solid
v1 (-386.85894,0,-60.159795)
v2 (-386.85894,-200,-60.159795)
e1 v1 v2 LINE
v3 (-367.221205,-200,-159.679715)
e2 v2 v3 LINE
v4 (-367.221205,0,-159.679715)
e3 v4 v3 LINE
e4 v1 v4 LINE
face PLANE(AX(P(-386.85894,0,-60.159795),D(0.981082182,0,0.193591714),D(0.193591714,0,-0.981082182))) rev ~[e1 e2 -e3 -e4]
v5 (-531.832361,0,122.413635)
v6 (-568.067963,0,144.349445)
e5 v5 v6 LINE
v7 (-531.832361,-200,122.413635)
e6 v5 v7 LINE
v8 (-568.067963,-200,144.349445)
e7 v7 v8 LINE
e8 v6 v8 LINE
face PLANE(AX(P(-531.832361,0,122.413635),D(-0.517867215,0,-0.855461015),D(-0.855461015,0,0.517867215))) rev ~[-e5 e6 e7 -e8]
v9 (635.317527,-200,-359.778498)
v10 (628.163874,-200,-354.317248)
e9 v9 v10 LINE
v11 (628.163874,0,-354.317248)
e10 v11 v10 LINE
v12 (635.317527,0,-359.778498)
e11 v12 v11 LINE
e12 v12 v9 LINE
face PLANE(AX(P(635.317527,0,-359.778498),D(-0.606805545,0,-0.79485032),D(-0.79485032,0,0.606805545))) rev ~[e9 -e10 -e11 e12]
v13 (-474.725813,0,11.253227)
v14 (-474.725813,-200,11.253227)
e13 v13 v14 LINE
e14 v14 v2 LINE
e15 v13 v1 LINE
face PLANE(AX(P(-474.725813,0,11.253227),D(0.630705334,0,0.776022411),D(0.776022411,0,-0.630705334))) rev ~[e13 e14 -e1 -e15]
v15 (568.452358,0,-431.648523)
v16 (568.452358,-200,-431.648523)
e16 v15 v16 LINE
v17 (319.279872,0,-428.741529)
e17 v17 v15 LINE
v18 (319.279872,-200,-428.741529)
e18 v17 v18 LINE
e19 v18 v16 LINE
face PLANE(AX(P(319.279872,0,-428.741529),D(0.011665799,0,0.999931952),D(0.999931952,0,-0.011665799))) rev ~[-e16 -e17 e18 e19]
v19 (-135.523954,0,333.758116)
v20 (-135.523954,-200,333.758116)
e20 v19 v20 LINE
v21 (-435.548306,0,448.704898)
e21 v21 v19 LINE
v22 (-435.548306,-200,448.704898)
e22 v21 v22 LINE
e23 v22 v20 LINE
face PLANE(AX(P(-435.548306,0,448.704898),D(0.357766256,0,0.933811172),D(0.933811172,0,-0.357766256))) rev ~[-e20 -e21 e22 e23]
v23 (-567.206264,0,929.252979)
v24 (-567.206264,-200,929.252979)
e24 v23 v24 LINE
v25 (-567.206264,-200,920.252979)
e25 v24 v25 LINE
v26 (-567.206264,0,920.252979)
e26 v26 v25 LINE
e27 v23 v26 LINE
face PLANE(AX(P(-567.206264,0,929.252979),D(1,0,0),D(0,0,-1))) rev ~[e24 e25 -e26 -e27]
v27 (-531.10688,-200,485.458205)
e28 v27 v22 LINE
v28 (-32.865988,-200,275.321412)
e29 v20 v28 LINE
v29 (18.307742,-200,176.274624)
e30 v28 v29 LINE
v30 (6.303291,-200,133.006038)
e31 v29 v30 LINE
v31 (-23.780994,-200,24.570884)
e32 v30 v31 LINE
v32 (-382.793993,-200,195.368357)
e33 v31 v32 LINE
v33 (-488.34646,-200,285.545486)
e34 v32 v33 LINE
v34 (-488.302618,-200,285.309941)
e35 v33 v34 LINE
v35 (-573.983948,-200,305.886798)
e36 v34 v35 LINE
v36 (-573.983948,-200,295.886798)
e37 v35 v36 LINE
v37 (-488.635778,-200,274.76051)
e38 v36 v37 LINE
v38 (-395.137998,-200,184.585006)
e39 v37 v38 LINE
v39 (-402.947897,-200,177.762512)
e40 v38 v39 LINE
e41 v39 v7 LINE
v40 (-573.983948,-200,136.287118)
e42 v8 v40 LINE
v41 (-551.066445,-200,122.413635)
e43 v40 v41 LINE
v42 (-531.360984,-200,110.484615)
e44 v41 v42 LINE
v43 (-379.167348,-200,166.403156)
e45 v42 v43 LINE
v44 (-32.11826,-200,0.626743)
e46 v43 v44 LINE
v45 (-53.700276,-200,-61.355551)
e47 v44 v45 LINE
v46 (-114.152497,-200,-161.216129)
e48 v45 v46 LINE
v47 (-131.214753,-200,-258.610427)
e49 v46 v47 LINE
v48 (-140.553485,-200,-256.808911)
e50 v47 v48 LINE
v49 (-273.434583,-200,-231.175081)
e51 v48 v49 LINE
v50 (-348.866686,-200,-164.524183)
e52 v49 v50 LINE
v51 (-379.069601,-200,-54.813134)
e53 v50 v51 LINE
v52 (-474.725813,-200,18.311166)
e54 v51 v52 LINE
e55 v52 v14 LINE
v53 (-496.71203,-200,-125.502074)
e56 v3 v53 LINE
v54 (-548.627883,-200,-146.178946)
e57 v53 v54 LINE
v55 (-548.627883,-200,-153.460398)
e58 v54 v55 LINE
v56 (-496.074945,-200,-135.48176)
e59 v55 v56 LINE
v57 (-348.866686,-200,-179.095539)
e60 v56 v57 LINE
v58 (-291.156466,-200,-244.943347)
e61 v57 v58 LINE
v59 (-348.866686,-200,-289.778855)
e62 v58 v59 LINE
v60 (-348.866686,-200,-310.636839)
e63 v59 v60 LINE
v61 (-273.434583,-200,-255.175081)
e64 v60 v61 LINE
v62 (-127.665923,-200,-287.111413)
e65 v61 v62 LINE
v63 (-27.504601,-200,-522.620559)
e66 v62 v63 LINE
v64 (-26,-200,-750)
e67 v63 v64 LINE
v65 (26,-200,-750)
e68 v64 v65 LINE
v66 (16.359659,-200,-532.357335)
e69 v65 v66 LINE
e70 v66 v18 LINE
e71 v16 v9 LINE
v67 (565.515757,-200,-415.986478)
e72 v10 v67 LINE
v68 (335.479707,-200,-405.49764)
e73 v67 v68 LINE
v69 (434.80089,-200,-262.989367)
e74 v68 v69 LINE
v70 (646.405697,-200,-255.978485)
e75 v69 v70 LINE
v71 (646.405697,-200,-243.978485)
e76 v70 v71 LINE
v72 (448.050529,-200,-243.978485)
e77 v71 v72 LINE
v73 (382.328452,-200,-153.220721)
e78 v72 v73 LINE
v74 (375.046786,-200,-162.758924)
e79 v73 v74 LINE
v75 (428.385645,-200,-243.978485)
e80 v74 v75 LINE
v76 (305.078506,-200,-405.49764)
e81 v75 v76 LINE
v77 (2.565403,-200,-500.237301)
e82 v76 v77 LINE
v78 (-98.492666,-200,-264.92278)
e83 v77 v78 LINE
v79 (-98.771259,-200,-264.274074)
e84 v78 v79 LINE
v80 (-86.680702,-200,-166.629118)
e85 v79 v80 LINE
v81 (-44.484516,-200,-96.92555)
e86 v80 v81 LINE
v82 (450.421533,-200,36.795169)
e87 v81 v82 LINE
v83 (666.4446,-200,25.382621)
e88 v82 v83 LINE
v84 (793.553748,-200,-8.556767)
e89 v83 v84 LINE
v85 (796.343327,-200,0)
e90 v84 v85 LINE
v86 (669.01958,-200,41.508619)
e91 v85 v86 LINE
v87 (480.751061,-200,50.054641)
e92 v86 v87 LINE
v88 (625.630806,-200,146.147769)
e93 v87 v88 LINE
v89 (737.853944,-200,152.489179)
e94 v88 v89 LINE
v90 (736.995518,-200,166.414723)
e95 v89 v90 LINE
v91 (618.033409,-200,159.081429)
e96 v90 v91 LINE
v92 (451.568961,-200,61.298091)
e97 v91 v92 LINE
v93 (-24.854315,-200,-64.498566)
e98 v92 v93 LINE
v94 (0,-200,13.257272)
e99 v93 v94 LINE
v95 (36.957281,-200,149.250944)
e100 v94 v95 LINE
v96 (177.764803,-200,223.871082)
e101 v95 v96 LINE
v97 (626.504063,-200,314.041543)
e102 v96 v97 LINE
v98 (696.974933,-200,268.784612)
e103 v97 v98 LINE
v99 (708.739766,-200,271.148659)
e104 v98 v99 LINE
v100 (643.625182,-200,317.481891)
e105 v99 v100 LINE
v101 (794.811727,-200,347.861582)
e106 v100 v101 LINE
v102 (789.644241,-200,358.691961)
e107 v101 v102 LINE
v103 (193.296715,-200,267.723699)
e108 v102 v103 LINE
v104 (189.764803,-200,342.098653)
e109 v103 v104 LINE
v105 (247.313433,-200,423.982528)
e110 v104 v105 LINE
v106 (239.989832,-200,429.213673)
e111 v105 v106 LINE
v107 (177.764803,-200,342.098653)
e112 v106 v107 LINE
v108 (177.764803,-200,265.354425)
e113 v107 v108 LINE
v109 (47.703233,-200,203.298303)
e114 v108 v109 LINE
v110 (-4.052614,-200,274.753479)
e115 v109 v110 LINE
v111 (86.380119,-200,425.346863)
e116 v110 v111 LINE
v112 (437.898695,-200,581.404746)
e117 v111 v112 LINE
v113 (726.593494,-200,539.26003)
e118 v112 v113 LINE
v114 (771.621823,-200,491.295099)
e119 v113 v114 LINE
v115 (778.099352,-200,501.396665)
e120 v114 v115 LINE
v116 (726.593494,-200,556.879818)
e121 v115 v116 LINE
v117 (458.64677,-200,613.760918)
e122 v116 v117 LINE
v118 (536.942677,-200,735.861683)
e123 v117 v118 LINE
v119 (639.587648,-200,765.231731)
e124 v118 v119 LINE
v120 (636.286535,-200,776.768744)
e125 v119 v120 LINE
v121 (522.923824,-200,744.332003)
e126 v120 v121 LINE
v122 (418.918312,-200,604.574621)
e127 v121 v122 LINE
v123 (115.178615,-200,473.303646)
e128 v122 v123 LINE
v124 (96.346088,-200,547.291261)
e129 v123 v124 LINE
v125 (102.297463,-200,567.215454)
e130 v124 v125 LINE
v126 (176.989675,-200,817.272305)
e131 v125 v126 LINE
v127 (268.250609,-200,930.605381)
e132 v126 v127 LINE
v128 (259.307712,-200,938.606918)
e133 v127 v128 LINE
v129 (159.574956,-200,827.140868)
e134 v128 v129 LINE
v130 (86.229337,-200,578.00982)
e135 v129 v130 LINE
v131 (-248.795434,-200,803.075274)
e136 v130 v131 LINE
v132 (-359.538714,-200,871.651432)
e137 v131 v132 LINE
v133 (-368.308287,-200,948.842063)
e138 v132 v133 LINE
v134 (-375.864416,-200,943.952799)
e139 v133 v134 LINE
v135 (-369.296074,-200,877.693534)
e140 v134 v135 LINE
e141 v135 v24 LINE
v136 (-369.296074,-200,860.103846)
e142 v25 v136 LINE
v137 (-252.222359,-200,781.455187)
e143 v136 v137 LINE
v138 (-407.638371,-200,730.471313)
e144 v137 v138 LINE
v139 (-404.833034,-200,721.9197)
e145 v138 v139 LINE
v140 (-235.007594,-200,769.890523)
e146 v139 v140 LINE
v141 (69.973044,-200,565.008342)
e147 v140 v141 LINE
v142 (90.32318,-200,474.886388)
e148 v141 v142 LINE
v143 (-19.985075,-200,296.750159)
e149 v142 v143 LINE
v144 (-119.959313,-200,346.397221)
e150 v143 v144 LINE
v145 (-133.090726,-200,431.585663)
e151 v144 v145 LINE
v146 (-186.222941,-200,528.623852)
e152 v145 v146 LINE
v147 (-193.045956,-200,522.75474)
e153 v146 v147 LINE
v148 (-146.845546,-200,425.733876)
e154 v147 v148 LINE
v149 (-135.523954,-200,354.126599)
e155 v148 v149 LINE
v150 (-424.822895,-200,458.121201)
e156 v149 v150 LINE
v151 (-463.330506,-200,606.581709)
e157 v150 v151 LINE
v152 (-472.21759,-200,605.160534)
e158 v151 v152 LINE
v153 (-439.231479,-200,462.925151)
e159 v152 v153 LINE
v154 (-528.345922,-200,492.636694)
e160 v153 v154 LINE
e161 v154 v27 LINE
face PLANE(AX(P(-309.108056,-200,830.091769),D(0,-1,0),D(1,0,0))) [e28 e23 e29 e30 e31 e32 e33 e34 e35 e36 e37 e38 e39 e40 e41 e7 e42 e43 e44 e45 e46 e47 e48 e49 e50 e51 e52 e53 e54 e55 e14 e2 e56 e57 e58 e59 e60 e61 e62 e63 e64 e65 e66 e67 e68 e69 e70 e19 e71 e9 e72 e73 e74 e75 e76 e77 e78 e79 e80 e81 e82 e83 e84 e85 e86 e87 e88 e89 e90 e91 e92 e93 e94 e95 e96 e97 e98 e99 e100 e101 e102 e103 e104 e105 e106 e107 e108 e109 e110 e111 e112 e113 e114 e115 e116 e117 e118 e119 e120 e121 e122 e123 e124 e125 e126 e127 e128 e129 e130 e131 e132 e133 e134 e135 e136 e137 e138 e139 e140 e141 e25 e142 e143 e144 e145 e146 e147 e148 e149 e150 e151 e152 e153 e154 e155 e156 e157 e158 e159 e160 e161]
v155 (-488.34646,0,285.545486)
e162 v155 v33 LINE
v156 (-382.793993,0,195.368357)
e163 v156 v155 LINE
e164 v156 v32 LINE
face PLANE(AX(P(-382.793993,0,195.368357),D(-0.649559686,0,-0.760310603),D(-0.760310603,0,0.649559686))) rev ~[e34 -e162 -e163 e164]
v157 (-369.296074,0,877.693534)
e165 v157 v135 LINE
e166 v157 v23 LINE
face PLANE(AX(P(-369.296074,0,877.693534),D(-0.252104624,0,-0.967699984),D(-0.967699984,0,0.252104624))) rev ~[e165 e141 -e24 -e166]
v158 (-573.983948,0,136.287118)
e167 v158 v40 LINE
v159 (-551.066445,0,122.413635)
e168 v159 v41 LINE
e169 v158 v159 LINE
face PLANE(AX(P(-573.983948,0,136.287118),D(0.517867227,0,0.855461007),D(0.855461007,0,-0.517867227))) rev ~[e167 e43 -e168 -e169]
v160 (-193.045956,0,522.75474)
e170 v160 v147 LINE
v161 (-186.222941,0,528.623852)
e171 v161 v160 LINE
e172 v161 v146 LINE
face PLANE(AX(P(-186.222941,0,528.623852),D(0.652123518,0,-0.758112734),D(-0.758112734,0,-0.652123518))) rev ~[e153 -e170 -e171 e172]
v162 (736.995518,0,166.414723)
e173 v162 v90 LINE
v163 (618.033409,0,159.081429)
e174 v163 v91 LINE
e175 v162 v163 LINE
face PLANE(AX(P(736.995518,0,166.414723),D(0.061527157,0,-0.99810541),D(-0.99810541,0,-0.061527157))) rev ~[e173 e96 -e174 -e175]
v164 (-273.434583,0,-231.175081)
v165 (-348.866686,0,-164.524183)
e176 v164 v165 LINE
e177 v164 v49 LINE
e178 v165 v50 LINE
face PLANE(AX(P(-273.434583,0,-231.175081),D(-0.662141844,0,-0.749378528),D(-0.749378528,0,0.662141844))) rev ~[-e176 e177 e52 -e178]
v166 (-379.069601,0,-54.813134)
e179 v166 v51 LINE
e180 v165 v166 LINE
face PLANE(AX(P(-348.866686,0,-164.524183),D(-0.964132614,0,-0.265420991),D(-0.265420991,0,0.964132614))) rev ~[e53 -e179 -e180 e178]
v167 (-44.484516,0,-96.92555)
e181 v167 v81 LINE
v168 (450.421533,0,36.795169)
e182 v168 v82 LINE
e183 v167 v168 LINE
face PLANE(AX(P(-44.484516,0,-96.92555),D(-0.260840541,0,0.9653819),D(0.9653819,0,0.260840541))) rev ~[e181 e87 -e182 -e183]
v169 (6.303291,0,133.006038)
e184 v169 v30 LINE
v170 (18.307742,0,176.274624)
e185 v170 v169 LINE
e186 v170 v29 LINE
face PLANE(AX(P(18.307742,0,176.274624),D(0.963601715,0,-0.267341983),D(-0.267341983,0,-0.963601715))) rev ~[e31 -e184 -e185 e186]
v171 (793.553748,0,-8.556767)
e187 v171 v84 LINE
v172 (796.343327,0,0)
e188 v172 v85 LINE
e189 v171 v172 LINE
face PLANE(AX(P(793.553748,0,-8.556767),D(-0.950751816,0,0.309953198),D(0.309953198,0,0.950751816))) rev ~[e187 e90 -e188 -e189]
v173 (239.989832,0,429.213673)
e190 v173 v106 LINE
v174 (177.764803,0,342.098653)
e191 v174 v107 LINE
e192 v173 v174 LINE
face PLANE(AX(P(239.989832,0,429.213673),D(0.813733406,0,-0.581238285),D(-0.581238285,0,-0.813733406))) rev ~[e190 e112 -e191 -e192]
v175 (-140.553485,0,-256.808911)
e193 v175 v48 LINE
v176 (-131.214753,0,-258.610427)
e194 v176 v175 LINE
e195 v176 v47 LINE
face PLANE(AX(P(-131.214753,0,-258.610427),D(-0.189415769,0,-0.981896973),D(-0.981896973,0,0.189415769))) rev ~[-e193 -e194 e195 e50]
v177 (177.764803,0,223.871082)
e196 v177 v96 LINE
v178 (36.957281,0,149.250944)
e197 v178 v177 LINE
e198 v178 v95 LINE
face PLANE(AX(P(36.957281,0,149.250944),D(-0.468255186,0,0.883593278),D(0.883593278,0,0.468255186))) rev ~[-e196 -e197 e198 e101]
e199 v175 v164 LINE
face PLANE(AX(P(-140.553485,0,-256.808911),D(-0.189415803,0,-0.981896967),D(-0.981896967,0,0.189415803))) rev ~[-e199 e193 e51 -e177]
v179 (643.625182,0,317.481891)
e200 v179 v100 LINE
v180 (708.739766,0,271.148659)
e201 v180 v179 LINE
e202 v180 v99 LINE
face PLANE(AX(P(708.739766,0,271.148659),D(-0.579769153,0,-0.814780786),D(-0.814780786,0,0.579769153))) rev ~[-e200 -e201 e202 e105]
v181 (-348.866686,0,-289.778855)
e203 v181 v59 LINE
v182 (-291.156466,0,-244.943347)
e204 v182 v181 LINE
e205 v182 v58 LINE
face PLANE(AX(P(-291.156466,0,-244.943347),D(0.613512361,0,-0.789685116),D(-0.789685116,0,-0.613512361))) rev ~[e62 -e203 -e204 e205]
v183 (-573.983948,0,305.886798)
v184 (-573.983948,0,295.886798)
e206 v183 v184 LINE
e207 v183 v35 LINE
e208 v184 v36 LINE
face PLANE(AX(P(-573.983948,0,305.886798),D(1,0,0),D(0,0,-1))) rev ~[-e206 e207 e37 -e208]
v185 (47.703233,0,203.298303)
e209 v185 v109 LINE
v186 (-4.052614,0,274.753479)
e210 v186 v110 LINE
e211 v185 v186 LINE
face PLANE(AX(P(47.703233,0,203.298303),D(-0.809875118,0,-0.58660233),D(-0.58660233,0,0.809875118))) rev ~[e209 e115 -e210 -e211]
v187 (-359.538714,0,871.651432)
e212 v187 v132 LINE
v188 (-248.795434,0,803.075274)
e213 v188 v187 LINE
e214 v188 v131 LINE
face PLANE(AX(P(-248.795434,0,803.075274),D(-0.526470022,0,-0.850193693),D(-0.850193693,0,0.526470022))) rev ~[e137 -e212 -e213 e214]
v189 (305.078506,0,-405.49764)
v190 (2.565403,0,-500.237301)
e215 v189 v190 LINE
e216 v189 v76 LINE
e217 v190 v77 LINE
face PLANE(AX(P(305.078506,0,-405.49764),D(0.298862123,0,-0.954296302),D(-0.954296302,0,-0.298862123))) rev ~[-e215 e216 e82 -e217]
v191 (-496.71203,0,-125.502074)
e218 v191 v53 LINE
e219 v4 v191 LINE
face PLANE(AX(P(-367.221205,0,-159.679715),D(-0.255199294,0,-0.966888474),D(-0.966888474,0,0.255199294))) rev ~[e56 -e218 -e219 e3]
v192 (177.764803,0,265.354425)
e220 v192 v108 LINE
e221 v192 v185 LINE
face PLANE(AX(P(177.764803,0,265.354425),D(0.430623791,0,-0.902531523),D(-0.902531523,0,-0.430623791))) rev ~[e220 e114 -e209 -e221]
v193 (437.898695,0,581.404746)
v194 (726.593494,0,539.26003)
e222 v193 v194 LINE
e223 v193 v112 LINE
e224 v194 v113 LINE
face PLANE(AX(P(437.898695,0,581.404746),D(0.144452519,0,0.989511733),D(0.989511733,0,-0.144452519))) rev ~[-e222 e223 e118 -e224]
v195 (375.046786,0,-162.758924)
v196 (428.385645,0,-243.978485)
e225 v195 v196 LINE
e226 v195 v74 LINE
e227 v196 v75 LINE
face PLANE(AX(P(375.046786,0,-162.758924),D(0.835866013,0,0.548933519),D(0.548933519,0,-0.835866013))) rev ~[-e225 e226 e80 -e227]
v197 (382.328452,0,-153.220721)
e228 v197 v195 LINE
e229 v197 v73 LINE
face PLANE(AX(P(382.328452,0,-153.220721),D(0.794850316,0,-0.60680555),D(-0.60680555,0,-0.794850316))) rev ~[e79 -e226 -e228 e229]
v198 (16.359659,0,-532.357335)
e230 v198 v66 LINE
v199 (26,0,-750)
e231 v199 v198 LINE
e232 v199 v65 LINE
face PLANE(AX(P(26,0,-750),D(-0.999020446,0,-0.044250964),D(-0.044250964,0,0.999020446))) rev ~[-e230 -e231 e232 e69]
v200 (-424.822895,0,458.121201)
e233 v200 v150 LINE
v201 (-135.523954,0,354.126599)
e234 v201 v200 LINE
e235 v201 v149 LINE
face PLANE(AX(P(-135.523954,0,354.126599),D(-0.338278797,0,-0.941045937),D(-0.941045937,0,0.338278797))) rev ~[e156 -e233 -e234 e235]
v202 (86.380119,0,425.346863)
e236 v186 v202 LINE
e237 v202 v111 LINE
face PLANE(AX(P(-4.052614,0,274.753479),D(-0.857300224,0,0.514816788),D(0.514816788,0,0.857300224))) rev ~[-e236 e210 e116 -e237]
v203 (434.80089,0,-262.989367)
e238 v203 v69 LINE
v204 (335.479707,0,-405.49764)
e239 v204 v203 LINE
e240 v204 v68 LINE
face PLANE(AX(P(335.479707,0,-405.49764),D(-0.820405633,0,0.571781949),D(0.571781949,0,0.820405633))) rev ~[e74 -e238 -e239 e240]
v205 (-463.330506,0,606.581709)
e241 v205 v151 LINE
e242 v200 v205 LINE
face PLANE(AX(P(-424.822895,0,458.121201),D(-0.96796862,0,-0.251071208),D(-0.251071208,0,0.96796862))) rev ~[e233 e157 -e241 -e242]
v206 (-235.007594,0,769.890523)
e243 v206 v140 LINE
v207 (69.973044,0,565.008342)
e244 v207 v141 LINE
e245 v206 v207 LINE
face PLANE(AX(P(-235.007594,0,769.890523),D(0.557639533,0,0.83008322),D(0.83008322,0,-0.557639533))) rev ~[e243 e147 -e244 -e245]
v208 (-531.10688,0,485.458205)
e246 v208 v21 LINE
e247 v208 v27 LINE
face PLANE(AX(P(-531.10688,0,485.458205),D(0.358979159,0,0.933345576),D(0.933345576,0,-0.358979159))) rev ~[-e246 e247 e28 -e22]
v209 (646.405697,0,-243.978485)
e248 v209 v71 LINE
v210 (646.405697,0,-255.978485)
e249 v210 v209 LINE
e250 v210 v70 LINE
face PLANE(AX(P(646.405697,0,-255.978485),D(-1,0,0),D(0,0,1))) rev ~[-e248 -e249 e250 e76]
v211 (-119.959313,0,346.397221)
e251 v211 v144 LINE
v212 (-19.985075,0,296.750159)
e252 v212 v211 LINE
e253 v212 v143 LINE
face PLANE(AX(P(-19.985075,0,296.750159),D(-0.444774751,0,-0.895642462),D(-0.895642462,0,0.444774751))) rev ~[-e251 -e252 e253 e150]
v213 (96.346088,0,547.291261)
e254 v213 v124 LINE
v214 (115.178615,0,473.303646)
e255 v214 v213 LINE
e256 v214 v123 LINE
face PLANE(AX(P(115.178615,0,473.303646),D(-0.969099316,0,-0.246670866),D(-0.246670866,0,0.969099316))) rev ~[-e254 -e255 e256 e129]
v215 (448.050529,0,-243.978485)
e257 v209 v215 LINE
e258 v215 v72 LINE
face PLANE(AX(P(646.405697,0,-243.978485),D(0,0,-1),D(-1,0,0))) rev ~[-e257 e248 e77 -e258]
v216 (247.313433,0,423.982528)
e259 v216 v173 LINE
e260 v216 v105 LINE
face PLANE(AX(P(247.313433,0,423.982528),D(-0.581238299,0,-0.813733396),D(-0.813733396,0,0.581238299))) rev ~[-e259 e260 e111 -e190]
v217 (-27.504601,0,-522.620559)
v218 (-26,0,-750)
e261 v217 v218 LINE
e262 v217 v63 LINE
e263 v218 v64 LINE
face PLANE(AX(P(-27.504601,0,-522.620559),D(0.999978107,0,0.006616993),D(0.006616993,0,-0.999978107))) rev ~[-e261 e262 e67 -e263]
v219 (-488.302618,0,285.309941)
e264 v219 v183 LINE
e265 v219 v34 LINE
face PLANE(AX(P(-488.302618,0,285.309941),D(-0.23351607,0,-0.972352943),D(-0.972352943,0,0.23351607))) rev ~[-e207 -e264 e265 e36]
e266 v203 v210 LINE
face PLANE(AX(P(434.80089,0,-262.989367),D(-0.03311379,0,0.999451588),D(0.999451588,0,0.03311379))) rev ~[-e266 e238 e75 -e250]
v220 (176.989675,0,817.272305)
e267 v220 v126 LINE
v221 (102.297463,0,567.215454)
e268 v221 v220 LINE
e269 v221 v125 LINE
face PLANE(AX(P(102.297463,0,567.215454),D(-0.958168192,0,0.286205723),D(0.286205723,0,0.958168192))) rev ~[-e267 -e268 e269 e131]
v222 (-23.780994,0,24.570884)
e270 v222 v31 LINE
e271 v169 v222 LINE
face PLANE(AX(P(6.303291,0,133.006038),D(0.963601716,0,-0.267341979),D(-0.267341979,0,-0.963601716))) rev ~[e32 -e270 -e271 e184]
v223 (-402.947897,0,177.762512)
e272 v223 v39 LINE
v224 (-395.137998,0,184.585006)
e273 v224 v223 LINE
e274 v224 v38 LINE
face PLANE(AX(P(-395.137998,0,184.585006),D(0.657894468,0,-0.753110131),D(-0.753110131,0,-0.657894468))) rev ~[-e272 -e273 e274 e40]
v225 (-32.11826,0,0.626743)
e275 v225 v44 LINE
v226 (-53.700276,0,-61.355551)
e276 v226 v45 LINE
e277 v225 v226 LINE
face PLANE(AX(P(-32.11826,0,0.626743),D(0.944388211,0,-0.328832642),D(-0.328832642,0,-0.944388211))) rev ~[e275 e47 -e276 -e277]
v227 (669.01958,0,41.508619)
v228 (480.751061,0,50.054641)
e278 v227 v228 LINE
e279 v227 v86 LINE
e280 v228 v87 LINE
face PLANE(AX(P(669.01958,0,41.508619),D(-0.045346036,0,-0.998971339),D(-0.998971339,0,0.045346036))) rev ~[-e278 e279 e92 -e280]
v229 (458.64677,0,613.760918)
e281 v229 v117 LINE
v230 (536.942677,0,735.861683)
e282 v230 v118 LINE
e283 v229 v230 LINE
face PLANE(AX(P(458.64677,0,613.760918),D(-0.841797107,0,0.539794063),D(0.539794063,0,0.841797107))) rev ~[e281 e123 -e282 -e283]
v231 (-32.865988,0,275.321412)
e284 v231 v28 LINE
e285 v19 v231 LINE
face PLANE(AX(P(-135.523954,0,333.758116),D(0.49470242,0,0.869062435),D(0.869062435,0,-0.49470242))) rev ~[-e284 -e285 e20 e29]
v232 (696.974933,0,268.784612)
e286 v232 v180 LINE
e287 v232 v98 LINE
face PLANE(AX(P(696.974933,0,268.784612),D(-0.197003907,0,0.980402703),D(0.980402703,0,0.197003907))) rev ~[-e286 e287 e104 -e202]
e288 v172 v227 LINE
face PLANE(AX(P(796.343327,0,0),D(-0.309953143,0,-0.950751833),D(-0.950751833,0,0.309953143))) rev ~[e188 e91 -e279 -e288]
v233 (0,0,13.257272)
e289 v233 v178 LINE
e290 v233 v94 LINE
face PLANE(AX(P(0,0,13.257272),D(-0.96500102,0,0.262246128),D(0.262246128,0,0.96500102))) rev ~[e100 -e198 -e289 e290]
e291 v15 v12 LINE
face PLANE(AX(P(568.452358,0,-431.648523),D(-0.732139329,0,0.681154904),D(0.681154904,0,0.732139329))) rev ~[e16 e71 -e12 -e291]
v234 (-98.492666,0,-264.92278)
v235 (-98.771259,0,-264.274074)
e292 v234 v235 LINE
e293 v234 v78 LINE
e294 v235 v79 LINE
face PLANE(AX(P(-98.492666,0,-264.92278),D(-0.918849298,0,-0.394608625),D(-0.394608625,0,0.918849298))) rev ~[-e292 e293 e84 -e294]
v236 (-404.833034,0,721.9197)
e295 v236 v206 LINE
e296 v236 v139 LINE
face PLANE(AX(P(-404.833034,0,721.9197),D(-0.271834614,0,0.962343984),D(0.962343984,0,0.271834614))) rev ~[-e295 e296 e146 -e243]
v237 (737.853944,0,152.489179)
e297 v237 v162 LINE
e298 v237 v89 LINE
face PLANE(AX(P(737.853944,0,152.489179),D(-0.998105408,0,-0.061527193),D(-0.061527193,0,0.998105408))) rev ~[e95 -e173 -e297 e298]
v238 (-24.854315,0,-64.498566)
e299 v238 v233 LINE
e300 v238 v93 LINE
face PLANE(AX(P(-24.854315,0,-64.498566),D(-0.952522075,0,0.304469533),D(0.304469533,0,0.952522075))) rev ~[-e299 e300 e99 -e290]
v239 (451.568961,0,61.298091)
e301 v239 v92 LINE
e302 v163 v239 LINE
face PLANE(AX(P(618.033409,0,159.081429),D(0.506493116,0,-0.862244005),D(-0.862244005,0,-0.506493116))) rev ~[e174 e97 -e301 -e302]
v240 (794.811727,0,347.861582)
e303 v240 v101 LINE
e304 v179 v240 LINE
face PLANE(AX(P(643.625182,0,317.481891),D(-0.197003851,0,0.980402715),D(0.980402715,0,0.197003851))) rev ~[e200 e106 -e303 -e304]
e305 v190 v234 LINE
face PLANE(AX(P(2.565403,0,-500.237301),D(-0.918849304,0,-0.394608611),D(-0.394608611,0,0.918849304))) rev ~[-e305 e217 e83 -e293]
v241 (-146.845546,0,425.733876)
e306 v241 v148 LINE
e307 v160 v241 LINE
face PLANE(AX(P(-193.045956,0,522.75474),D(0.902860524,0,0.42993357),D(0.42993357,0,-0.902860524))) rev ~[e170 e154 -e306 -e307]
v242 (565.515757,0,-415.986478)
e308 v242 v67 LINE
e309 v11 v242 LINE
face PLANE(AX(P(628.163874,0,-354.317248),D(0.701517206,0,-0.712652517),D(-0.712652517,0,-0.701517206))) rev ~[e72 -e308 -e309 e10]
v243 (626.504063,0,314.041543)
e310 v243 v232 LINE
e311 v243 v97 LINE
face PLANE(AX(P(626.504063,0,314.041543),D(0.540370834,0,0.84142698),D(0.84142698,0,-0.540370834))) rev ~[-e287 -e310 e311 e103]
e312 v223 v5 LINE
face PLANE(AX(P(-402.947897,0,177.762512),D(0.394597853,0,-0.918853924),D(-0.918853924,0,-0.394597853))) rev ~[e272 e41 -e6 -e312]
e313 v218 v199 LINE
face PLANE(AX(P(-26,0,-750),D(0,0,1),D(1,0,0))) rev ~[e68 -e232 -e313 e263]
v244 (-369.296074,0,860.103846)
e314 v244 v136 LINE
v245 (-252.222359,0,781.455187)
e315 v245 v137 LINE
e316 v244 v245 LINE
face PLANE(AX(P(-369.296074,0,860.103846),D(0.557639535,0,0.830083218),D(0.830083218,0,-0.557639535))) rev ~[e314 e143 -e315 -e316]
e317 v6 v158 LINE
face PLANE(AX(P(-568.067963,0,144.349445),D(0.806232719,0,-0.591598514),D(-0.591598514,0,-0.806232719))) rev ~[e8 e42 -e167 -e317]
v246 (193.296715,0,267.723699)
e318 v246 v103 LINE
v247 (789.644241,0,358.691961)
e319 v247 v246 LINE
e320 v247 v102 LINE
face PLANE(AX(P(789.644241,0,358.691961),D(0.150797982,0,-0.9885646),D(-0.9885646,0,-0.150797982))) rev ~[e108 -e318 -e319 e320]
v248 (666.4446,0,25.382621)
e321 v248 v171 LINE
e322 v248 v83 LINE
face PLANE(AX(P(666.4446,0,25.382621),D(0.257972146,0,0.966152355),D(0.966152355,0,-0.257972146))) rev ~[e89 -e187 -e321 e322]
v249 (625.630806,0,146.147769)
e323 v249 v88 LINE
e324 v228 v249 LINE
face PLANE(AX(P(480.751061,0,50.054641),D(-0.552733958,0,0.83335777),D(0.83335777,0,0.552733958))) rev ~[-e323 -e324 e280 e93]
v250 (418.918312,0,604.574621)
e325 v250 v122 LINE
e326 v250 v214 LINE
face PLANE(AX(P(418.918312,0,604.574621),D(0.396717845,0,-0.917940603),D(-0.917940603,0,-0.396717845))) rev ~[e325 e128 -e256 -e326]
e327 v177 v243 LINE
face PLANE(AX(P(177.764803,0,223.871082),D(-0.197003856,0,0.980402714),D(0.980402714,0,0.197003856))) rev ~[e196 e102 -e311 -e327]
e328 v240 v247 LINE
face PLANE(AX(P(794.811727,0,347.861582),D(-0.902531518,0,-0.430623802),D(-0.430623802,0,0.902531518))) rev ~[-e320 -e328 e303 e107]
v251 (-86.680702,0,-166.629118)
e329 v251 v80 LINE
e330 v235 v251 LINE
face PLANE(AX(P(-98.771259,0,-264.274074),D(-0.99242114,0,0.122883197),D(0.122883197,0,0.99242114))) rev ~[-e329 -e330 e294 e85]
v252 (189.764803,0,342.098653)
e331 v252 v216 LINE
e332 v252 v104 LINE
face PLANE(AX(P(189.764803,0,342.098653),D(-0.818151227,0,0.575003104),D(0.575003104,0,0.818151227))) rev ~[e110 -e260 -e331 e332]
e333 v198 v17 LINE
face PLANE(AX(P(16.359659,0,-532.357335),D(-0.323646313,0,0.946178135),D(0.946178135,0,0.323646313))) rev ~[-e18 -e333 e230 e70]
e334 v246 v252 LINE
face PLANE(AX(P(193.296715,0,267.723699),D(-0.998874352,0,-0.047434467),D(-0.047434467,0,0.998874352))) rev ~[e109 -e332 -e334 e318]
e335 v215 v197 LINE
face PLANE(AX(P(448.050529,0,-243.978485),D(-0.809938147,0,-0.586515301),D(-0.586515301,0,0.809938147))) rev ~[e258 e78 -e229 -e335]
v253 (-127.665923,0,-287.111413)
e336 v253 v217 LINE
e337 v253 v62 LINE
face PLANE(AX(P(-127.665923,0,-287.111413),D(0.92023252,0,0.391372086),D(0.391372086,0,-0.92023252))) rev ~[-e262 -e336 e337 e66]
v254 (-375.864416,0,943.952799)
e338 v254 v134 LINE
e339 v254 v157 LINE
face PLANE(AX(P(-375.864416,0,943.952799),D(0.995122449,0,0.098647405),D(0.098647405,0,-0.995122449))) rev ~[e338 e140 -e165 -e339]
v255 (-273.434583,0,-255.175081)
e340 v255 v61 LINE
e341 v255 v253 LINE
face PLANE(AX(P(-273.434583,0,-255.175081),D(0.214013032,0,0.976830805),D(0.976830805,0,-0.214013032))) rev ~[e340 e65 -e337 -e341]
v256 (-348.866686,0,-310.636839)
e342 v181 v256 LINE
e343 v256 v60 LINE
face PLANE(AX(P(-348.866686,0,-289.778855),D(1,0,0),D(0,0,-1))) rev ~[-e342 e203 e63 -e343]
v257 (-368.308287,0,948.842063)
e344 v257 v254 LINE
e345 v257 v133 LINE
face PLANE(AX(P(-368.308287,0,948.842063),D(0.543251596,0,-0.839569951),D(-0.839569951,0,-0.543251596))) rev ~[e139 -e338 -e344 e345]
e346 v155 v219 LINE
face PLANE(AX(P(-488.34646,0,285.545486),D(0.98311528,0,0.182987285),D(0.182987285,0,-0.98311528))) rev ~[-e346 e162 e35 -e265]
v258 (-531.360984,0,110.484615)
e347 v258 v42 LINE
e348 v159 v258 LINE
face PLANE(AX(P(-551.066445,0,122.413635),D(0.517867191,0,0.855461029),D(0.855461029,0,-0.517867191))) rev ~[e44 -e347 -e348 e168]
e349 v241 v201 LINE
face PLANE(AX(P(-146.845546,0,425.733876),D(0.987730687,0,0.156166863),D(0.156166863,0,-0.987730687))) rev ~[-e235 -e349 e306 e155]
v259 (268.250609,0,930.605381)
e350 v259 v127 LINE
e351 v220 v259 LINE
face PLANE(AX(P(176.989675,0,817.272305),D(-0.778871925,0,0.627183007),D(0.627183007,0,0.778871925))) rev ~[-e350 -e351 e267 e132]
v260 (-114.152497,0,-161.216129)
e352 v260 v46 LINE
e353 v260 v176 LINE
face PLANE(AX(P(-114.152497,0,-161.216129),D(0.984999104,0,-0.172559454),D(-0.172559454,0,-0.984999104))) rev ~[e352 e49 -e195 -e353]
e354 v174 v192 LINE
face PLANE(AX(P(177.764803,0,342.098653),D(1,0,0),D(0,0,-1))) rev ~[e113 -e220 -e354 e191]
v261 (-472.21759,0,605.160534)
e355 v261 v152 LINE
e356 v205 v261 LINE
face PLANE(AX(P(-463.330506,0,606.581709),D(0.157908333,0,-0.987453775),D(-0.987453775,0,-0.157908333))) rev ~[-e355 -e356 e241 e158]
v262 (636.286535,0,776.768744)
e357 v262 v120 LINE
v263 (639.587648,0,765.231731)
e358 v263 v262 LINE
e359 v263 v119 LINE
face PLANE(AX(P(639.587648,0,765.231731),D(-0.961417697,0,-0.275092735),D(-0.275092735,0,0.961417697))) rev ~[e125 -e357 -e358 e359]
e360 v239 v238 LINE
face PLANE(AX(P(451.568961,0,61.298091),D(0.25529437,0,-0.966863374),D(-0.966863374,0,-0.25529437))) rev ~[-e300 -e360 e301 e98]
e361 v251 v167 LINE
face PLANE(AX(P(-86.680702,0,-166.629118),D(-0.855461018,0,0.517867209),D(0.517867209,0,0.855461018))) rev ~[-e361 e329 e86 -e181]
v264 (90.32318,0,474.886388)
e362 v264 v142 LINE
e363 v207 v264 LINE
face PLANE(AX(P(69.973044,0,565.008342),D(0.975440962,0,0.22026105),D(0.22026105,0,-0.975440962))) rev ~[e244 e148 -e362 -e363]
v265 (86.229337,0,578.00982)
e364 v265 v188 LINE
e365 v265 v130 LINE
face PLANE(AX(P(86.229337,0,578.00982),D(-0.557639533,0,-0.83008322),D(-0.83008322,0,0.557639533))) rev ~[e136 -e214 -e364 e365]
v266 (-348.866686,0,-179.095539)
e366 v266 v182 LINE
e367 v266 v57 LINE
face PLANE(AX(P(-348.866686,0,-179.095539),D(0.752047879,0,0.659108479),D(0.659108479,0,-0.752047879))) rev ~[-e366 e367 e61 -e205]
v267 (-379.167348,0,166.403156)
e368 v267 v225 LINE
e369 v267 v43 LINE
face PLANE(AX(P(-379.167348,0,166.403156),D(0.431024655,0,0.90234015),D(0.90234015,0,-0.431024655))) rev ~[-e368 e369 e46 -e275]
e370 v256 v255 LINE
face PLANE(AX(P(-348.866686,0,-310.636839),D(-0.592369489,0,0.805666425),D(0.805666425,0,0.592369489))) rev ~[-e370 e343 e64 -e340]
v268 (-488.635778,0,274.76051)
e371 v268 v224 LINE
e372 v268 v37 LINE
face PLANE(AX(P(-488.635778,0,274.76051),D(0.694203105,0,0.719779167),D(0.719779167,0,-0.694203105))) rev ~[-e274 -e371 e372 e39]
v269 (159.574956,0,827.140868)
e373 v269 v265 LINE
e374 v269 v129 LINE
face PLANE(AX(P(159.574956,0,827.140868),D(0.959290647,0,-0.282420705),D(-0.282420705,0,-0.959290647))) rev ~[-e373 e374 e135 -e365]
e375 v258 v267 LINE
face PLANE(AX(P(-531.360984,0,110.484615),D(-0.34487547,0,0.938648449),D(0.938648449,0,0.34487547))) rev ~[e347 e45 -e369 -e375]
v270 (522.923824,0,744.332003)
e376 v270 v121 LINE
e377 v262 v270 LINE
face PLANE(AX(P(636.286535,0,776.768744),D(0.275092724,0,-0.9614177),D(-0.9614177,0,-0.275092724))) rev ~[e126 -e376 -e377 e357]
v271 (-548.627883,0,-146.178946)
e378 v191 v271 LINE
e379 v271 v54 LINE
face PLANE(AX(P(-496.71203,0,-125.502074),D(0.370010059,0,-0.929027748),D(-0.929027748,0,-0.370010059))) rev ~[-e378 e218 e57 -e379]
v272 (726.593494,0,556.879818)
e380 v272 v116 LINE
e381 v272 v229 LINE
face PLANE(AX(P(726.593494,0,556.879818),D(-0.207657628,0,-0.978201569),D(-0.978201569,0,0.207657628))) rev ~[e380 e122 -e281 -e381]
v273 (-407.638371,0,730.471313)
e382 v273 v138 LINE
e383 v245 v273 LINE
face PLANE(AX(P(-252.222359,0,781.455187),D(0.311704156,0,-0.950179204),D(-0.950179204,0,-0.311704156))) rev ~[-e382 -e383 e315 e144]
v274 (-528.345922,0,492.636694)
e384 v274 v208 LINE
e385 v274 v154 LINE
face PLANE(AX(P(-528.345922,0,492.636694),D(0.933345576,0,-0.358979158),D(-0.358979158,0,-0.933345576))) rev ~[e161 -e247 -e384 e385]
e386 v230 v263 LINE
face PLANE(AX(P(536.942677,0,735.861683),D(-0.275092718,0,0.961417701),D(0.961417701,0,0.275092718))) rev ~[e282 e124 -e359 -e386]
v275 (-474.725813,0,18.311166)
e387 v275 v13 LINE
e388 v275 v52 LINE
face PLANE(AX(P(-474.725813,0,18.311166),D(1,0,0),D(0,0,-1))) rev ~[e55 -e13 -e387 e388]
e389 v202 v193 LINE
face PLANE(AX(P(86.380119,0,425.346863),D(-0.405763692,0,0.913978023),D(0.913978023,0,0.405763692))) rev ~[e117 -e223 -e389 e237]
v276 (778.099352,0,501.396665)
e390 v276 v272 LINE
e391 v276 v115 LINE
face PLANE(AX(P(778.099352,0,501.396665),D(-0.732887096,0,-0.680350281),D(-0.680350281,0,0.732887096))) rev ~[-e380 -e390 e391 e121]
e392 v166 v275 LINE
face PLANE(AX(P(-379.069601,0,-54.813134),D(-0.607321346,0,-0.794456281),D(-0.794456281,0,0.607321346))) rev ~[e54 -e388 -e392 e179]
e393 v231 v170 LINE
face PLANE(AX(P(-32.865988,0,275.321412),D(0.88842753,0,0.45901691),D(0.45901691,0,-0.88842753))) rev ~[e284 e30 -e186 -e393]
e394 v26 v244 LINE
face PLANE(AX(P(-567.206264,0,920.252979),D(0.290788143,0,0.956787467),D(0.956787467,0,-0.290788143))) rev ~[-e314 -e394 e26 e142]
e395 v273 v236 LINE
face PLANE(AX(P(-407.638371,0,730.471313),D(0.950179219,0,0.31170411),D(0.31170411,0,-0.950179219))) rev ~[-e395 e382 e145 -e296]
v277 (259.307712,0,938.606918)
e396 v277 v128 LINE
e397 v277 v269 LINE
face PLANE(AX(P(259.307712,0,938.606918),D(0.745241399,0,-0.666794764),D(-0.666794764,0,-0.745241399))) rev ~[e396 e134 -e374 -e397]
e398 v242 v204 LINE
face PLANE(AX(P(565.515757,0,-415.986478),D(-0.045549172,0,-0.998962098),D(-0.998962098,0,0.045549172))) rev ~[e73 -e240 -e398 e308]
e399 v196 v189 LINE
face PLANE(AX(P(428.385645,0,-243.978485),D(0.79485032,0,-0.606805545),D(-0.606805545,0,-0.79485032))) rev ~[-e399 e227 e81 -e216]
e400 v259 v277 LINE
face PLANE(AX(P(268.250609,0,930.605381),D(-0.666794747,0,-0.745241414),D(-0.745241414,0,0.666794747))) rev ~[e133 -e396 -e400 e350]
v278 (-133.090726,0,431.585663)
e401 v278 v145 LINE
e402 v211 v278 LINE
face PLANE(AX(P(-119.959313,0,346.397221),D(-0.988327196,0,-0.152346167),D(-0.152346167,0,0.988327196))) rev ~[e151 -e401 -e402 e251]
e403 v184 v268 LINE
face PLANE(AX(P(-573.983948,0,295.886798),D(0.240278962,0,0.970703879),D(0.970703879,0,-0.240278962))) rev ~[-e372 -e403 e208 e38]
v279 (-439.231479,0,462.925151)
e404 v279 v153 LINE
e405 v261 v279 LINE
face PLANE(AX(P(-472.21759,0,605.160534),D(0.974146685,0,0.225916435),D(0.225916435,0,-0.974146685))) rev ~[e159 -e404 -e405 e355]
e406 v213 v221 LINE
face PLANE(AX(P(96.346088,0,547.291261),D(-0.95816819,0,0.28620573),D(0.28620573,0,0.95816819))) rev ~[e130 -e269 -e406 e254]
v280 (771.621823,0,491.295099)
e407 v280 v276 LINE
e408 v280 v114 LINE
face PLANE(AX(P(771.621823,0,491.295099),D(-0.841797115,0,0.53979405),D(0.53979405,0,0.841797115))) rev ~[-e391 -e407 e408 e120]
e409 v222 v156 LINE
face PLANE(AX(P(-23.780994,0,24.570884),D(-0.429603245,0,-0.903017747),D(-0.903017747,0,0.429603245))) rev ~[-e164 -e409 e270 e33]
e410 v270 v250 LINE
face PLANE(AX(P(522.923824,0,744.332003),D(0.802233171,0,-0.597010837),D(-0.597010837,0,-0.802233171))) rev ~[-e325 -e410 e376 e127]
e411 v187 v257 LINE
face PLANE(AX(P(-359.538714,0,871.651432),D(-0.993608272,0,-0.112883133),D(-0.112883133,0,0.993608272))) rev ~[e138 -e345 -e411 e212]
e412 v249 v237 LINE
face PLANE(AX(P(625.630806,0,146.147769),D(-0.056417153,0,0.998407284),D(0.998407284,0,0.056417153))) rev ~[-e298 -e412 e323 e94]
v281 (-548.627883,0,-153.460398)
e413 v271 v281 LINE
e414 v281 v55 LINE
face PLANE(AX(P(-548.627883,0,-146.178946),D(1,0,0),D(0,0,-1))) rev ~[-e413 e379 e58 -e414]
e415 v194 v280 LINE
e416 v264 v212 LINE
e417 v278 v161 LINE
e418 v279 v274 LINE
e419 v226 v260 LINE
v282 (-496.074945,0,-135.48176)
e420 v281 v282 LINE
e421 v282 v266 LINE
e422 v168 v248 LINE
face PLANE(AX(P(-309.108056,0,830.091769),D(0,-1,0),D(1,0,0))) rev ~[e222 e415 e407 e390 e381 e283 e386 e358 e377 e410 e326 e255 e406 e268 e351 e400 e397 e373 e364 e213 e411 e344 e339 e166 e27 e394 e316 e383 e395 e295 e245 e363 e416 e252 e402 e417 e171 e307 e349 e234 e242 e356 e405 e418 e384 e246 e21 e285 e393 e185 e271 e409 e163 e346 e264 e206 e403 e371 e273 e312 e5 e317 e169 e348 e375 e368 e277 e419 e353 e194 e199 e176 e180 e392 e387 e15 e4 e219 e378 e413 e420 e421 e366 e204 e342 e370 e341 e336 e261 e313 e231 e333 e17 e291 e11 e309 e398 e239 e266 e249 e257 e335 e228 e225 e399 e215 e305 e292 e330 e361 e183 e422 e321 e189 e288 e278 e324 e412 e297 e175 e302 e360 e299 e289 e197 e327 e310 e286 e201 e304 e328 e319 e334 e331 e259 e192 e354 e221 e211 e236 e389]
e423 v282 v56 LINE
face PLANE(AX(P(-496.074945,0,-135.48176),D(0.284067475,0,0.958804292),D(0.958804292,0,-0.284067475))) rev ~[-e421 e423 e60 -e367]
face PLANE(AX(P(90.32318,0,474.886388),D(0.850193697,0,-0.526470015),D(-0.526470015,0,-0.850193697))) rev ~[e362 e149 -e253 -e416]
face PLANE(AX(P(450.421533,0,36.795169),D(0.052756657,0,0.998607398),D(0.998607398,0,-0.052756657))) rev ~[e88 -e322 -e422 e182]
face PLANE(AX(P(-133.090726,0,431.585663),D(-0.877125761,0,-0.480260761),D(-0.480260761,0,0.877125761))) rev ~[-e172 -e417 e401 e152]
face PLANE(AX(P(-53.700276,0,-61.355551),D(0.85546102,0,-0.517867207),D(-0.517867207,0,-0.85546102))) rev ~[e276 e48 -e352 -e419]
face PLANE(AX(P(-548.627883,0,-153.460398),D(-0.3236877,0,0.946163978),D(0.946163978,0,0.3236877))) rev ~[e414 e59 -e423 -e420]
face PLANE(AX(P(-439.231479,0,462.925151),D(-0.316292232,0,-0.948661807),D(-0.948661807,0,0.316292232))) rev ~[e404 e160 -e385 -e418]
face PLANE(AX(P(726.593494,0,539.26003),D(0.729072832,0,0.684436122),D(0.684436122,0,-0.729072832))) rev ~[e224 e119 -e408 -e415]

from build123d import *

# Parameters (mm, degrees)
F1_DEPTH = 200


with BuildPart() as f1:
    # F0 (on Front) → F1 (new body)
    with BuildSketch(Plane.XZ):
        Polygon((-369.296074, 860.103846), (-252.222359, 781.455187), (-248.795434, 803.075274), (-359.538714, 871.651432), (-369.296074, 877.693534), align=None)
        Polygon((86.229337, 578.00982), (102.297463, 567.215454), (176.989675, 817.272305), (159.574956, 827.140868), align=None)
        Polygon((47.703233, 203.298303), (36.957281, 149.250944), (177.764803, 223.871082), (177.764803, 265.354425), align=None)
        Polygon((-395.137998, 184.585006), (-382.793993, 195.368357), (-488.34646, 285.545486), (-488.302618, 285.309941), (-488.635778, 274.76051), align=None)
        Polygon((-531.360984, 110.484615), (-379.167348, 166.403156), (-402.947897, 177.762512), (-531.832361, 122.413635), align=None)
        Polygon((2.565403, -500.237301), (16.359659, -532.357335), (319.279872, -428.741529), (305.078506, -405.49764), align=None)
        Polygon((-19.985075, 296.750159), (-4.052614, 274.753479), (86.380119, 425.346863), (115.178615, 473.303646), (90.32318, 474.886388), align=None)
        Polygon((-27.504601, -522.620559), (16.359659, -532.357335), (2.565403, -500.237301), (-98.492666, -264.92278), (-98.84321, -264.855158), (-131.214753, -258.610427), (-140.553485, -256.808911), (-137.378573, -264.274074), (-127.665923, -287.111413), align=None)
        Polygon((-24.854315, -64.498566), (-44.484516, -96.92555), (450.421533, 36.795169), (467.866212, 41.508619), (451.568961, 61.298091), align=None)
        Polygon((-348.866686, -310.636839), (-273.434583, -255.175081), (-273.434583, -231.175081), (-291.156466, -244.943347), (-348.866686, -289.778855), align=None)
        Polygon((-379.167348, 166.403156), (-32.11826, 0.626743), (-23.780994, 24.570884), (-382.793993, 195.368357), (-395.137998, 184.585006), (-402.947897, 177.762512), align=None)
        Polygon((-439.231479, 462.925151), (-424.822895, 458.121201), (-463.330506, 606.581709), (-472.21759, 605.160534), align=None)
        Polygon((115.178615, 473.303646), (86.380119, 425.346863), (437.898695, 581.404746), (418.918312, 604.574621), align=None)
        Polygon((-404.833034, 721.9197), (-235.007594, 769.890523), (-252.222359, 781.455187), (-407.638371, 730.471313), align=None)
        Polygon((-135.523954, 354.126599), (-119.959313, 346.397221), (-133.090726, 431.585663), (-186.222941, 528.623852), (-193.045956, 522.75474), (-146.845546, 425.733876), align=None)
        Polygon((458.64677, 613.760918), (437.898695, 581.404746), (726.593494, 539.26003), (726.593494, 556.879818), align=None)
        Polygon((636.286535, 776.768744), (522.923824, 744.332003), (536.942677, 735.861683), (639.587648, 765.231731), align=None)
        Polygon((467.866212, 41.508619), (450.421533, 36.795169), (666.4446, 25.382621), (793.553748, -8.556767), (796.343327, 0), (669.01958, 41.508619), (480.751061, 50.054641), align=None)
        Polygon((335.479707, -405.49764), (319.279872, -428.741529), (568.452358, -431.648523), (565.515757, -415.986478), align=None)
        Polygon((-23.780994, 24.570884), (0, 13.257272), (36.957281, 149.250944), (6.303291, 133.006038), align=None)
        Polygon((177.764803, 265.354425), (177.764803, 223.871082), (626.504063, 314.041543), (643.625182, 317.481891), (794.811727, 347.861582), (789.644241, 358.691961), (193.296715, 267.723699), align=None)
        Polygon((-435.548306, 448.704898), (-135.523954, 333.758116), (-135.523954, 354.126599), (-424.822895, 458.121201), align=None)
        Polygon((159.574956, 827.140868), (176.989675, 817.272305), (268.250609, 930.605381), (259.307712, 938.606918), align=None)
        Polygon((-291.156466, -244.943347), (-273.434583, -231.175081), (-348.866686, -164.524183), (-348.866686, -179.095539), align=None)
        Polygon((-114.152497, -161.216129), (-86.680702, -166.629118), (-44.484516, -96.92555), (-24.854315, -64.498566), (-53.700276, -61.355551), align=None)
        Polygon((418.918312, 604.574621), (437.898695, 581.404746), (458.64677, 613.760918), (536.942677, 735.861683), (522.923824, 744.332003), align=None)
        Polygon((-367.221205, -159.679715), (-348.866686, -164.524183), (-379.069601, -54.813134), (-386.85894, -60.159795), align=None)
        Polygon((-135.523954, 333.758116), (-32.865988, 275.321412), (-19.985075, 296.750159), (-119.959313, 346.397221), (-135.523954, 354.126599), align=None)
        Polygon((-98.84321, -264.855158), (-98.492666, -264.92278), (-98.771259, -264.274074), (-86.680702, -166.629118), (-114.152497, -161.216129), (-131.214753, -258.610427), align=None)
        Polygon((-273.434583, -255.175081), (-127.665923, -287.111413), (-137.378573, -264.274074), (-140.553485, -256.808911), (-273.434583, -231.175081), align=None)
        Polygon((736.995518, 166.414723), (618.033409, 159.081429), (625.630806, 146.147769), (737.853944, 152.489179), align=None)
        Polygon((305.078506, -405.49764), (319.279872, -428.741529), (335.479707, -405.49764), (434.80089, -262.989367), (448.050529, -243.978485), (428.385645, -243.978485), align=None)
        Polygon((18.307742, 176.274624), (47.703233, 203.298303), (-4.052614, 274.753479), (-19.985075, 296.750159), (-32.865988, 275.321412), align=None)
        Polygon((375.046786, -162.758924), (428.385645, -243.978485), (448.050529, -243.978485), (382.328452, -153.220721), align=None)
        Polygon((618.033409, 159.081429), (451.568961, 61.298091), (467.866212, 41.508619), (480.751061, 50.054641), (625.630806, 146.147769), align=None)
        Polygon((-567.206264, 920.252979), (-369.296074, 860.103846), (-369.296074, 877.693534), (-567.206264, 929.252979), align=None)
        Polygon((-235.007594, 769.890523), (69.973044, 565.008342), (96.346088, 547.291261), (102.297463, 567.215454), (86.229337, 578.00982), (-248.795434, 803.075274), (-252.222359, 781.455187), align=None)
        Polygon((69.973044, 565.008342), (90.32318, 474.886388), (115.178615, 473.303646), (96.346088, 547.291261), align=None)
        Polygon((-26, -750), (0, -750), (26, -750), (16.359659, -532.357335), (-27.504601, -522.620559), align=None)
        Polygon((177.764803, 342.098653), (177.764803, 265.354425), (193.296715, 267.723699), (189.764803, 342.098653), align=None)
        Polygon((-496.074945, -135.48176), (-496.71203, -125.502074), (-548.627883, -146.178946), (-548.627883, -153.460398), align=None)
        Polygon((726.593494, 556.879818), (726.593494, 539.26003), (771.621823, 491.295099), (778.099352, 501.396665), align=None)
        Polygon((-348.866686, -179.095539), (-348.866686, -164.524183), (-367.221205, -159.679715), (-496.71203, -125.502074), (-496.074945, -135.48176), align=None)
        Polygon((565.515757, -415.986478), (568.452358, -431.648523), (635.317527, -359.778498), (628.163874, -354.317248), align=None)
        Polygon((-369.296074, 877.693534), (-359.538714, 871.651432), (-368.308287, 948.842063), (-375.864416, 943.952799), align=None)
        Polygon((-531.10688, 485.458205), (-435.548306, 448.704898), (-424.822895, 458.121201), (-439.231479, 462.925151), (-528.345922, 492.636694), align=None)
        Polygon((-573.983948, 295.886798), (-488.635778, 274.76051), (-488.302618, 285.309941), (-573.983948, 305.886798), align=None)
        Polygon((6.303291, 133.006038), (36.957281, 149.250944), (47.703233, 203.298303), (18.307742, 176.274624), align=None)
        Polygon((239.989832, 429.213673), (177.764803, 342.098653), (189.764803, 342.098653), (247.313433, 423.982528), align=None)
        Polygon((-386.85894, -60.159795), (-379.069601, -54.813134), (-474.725813, 18.311166), (-474.725813, 11.253227), align=None)
        Polygon((643.625182, 317.481891), (626.504063, 314.041543), (696.974933, 268.784612), (708.739766, 271.148659), align=None)
        Polygon((-32.11826, 0.626743), (-53.700276, -61.355551), (-24.854315, -64.498566), (0, 13.257272), (-23.780994, 24.570884), align=None)
        Polygon((448.050529, -243.978485), (434.80089, -262.989367), (646.405697, -255.978485), (646.405697, -243.978485), align=None)
        Polygon((-551.066445, 122.413635), (-531.360984, 110.484615), (-531.832361, 122.413635), (-568.067963, 144.349445), (-573.983948, 136.287118), align=None)
    extrude(amount=F1_DEPTH)


solid = f1.part
